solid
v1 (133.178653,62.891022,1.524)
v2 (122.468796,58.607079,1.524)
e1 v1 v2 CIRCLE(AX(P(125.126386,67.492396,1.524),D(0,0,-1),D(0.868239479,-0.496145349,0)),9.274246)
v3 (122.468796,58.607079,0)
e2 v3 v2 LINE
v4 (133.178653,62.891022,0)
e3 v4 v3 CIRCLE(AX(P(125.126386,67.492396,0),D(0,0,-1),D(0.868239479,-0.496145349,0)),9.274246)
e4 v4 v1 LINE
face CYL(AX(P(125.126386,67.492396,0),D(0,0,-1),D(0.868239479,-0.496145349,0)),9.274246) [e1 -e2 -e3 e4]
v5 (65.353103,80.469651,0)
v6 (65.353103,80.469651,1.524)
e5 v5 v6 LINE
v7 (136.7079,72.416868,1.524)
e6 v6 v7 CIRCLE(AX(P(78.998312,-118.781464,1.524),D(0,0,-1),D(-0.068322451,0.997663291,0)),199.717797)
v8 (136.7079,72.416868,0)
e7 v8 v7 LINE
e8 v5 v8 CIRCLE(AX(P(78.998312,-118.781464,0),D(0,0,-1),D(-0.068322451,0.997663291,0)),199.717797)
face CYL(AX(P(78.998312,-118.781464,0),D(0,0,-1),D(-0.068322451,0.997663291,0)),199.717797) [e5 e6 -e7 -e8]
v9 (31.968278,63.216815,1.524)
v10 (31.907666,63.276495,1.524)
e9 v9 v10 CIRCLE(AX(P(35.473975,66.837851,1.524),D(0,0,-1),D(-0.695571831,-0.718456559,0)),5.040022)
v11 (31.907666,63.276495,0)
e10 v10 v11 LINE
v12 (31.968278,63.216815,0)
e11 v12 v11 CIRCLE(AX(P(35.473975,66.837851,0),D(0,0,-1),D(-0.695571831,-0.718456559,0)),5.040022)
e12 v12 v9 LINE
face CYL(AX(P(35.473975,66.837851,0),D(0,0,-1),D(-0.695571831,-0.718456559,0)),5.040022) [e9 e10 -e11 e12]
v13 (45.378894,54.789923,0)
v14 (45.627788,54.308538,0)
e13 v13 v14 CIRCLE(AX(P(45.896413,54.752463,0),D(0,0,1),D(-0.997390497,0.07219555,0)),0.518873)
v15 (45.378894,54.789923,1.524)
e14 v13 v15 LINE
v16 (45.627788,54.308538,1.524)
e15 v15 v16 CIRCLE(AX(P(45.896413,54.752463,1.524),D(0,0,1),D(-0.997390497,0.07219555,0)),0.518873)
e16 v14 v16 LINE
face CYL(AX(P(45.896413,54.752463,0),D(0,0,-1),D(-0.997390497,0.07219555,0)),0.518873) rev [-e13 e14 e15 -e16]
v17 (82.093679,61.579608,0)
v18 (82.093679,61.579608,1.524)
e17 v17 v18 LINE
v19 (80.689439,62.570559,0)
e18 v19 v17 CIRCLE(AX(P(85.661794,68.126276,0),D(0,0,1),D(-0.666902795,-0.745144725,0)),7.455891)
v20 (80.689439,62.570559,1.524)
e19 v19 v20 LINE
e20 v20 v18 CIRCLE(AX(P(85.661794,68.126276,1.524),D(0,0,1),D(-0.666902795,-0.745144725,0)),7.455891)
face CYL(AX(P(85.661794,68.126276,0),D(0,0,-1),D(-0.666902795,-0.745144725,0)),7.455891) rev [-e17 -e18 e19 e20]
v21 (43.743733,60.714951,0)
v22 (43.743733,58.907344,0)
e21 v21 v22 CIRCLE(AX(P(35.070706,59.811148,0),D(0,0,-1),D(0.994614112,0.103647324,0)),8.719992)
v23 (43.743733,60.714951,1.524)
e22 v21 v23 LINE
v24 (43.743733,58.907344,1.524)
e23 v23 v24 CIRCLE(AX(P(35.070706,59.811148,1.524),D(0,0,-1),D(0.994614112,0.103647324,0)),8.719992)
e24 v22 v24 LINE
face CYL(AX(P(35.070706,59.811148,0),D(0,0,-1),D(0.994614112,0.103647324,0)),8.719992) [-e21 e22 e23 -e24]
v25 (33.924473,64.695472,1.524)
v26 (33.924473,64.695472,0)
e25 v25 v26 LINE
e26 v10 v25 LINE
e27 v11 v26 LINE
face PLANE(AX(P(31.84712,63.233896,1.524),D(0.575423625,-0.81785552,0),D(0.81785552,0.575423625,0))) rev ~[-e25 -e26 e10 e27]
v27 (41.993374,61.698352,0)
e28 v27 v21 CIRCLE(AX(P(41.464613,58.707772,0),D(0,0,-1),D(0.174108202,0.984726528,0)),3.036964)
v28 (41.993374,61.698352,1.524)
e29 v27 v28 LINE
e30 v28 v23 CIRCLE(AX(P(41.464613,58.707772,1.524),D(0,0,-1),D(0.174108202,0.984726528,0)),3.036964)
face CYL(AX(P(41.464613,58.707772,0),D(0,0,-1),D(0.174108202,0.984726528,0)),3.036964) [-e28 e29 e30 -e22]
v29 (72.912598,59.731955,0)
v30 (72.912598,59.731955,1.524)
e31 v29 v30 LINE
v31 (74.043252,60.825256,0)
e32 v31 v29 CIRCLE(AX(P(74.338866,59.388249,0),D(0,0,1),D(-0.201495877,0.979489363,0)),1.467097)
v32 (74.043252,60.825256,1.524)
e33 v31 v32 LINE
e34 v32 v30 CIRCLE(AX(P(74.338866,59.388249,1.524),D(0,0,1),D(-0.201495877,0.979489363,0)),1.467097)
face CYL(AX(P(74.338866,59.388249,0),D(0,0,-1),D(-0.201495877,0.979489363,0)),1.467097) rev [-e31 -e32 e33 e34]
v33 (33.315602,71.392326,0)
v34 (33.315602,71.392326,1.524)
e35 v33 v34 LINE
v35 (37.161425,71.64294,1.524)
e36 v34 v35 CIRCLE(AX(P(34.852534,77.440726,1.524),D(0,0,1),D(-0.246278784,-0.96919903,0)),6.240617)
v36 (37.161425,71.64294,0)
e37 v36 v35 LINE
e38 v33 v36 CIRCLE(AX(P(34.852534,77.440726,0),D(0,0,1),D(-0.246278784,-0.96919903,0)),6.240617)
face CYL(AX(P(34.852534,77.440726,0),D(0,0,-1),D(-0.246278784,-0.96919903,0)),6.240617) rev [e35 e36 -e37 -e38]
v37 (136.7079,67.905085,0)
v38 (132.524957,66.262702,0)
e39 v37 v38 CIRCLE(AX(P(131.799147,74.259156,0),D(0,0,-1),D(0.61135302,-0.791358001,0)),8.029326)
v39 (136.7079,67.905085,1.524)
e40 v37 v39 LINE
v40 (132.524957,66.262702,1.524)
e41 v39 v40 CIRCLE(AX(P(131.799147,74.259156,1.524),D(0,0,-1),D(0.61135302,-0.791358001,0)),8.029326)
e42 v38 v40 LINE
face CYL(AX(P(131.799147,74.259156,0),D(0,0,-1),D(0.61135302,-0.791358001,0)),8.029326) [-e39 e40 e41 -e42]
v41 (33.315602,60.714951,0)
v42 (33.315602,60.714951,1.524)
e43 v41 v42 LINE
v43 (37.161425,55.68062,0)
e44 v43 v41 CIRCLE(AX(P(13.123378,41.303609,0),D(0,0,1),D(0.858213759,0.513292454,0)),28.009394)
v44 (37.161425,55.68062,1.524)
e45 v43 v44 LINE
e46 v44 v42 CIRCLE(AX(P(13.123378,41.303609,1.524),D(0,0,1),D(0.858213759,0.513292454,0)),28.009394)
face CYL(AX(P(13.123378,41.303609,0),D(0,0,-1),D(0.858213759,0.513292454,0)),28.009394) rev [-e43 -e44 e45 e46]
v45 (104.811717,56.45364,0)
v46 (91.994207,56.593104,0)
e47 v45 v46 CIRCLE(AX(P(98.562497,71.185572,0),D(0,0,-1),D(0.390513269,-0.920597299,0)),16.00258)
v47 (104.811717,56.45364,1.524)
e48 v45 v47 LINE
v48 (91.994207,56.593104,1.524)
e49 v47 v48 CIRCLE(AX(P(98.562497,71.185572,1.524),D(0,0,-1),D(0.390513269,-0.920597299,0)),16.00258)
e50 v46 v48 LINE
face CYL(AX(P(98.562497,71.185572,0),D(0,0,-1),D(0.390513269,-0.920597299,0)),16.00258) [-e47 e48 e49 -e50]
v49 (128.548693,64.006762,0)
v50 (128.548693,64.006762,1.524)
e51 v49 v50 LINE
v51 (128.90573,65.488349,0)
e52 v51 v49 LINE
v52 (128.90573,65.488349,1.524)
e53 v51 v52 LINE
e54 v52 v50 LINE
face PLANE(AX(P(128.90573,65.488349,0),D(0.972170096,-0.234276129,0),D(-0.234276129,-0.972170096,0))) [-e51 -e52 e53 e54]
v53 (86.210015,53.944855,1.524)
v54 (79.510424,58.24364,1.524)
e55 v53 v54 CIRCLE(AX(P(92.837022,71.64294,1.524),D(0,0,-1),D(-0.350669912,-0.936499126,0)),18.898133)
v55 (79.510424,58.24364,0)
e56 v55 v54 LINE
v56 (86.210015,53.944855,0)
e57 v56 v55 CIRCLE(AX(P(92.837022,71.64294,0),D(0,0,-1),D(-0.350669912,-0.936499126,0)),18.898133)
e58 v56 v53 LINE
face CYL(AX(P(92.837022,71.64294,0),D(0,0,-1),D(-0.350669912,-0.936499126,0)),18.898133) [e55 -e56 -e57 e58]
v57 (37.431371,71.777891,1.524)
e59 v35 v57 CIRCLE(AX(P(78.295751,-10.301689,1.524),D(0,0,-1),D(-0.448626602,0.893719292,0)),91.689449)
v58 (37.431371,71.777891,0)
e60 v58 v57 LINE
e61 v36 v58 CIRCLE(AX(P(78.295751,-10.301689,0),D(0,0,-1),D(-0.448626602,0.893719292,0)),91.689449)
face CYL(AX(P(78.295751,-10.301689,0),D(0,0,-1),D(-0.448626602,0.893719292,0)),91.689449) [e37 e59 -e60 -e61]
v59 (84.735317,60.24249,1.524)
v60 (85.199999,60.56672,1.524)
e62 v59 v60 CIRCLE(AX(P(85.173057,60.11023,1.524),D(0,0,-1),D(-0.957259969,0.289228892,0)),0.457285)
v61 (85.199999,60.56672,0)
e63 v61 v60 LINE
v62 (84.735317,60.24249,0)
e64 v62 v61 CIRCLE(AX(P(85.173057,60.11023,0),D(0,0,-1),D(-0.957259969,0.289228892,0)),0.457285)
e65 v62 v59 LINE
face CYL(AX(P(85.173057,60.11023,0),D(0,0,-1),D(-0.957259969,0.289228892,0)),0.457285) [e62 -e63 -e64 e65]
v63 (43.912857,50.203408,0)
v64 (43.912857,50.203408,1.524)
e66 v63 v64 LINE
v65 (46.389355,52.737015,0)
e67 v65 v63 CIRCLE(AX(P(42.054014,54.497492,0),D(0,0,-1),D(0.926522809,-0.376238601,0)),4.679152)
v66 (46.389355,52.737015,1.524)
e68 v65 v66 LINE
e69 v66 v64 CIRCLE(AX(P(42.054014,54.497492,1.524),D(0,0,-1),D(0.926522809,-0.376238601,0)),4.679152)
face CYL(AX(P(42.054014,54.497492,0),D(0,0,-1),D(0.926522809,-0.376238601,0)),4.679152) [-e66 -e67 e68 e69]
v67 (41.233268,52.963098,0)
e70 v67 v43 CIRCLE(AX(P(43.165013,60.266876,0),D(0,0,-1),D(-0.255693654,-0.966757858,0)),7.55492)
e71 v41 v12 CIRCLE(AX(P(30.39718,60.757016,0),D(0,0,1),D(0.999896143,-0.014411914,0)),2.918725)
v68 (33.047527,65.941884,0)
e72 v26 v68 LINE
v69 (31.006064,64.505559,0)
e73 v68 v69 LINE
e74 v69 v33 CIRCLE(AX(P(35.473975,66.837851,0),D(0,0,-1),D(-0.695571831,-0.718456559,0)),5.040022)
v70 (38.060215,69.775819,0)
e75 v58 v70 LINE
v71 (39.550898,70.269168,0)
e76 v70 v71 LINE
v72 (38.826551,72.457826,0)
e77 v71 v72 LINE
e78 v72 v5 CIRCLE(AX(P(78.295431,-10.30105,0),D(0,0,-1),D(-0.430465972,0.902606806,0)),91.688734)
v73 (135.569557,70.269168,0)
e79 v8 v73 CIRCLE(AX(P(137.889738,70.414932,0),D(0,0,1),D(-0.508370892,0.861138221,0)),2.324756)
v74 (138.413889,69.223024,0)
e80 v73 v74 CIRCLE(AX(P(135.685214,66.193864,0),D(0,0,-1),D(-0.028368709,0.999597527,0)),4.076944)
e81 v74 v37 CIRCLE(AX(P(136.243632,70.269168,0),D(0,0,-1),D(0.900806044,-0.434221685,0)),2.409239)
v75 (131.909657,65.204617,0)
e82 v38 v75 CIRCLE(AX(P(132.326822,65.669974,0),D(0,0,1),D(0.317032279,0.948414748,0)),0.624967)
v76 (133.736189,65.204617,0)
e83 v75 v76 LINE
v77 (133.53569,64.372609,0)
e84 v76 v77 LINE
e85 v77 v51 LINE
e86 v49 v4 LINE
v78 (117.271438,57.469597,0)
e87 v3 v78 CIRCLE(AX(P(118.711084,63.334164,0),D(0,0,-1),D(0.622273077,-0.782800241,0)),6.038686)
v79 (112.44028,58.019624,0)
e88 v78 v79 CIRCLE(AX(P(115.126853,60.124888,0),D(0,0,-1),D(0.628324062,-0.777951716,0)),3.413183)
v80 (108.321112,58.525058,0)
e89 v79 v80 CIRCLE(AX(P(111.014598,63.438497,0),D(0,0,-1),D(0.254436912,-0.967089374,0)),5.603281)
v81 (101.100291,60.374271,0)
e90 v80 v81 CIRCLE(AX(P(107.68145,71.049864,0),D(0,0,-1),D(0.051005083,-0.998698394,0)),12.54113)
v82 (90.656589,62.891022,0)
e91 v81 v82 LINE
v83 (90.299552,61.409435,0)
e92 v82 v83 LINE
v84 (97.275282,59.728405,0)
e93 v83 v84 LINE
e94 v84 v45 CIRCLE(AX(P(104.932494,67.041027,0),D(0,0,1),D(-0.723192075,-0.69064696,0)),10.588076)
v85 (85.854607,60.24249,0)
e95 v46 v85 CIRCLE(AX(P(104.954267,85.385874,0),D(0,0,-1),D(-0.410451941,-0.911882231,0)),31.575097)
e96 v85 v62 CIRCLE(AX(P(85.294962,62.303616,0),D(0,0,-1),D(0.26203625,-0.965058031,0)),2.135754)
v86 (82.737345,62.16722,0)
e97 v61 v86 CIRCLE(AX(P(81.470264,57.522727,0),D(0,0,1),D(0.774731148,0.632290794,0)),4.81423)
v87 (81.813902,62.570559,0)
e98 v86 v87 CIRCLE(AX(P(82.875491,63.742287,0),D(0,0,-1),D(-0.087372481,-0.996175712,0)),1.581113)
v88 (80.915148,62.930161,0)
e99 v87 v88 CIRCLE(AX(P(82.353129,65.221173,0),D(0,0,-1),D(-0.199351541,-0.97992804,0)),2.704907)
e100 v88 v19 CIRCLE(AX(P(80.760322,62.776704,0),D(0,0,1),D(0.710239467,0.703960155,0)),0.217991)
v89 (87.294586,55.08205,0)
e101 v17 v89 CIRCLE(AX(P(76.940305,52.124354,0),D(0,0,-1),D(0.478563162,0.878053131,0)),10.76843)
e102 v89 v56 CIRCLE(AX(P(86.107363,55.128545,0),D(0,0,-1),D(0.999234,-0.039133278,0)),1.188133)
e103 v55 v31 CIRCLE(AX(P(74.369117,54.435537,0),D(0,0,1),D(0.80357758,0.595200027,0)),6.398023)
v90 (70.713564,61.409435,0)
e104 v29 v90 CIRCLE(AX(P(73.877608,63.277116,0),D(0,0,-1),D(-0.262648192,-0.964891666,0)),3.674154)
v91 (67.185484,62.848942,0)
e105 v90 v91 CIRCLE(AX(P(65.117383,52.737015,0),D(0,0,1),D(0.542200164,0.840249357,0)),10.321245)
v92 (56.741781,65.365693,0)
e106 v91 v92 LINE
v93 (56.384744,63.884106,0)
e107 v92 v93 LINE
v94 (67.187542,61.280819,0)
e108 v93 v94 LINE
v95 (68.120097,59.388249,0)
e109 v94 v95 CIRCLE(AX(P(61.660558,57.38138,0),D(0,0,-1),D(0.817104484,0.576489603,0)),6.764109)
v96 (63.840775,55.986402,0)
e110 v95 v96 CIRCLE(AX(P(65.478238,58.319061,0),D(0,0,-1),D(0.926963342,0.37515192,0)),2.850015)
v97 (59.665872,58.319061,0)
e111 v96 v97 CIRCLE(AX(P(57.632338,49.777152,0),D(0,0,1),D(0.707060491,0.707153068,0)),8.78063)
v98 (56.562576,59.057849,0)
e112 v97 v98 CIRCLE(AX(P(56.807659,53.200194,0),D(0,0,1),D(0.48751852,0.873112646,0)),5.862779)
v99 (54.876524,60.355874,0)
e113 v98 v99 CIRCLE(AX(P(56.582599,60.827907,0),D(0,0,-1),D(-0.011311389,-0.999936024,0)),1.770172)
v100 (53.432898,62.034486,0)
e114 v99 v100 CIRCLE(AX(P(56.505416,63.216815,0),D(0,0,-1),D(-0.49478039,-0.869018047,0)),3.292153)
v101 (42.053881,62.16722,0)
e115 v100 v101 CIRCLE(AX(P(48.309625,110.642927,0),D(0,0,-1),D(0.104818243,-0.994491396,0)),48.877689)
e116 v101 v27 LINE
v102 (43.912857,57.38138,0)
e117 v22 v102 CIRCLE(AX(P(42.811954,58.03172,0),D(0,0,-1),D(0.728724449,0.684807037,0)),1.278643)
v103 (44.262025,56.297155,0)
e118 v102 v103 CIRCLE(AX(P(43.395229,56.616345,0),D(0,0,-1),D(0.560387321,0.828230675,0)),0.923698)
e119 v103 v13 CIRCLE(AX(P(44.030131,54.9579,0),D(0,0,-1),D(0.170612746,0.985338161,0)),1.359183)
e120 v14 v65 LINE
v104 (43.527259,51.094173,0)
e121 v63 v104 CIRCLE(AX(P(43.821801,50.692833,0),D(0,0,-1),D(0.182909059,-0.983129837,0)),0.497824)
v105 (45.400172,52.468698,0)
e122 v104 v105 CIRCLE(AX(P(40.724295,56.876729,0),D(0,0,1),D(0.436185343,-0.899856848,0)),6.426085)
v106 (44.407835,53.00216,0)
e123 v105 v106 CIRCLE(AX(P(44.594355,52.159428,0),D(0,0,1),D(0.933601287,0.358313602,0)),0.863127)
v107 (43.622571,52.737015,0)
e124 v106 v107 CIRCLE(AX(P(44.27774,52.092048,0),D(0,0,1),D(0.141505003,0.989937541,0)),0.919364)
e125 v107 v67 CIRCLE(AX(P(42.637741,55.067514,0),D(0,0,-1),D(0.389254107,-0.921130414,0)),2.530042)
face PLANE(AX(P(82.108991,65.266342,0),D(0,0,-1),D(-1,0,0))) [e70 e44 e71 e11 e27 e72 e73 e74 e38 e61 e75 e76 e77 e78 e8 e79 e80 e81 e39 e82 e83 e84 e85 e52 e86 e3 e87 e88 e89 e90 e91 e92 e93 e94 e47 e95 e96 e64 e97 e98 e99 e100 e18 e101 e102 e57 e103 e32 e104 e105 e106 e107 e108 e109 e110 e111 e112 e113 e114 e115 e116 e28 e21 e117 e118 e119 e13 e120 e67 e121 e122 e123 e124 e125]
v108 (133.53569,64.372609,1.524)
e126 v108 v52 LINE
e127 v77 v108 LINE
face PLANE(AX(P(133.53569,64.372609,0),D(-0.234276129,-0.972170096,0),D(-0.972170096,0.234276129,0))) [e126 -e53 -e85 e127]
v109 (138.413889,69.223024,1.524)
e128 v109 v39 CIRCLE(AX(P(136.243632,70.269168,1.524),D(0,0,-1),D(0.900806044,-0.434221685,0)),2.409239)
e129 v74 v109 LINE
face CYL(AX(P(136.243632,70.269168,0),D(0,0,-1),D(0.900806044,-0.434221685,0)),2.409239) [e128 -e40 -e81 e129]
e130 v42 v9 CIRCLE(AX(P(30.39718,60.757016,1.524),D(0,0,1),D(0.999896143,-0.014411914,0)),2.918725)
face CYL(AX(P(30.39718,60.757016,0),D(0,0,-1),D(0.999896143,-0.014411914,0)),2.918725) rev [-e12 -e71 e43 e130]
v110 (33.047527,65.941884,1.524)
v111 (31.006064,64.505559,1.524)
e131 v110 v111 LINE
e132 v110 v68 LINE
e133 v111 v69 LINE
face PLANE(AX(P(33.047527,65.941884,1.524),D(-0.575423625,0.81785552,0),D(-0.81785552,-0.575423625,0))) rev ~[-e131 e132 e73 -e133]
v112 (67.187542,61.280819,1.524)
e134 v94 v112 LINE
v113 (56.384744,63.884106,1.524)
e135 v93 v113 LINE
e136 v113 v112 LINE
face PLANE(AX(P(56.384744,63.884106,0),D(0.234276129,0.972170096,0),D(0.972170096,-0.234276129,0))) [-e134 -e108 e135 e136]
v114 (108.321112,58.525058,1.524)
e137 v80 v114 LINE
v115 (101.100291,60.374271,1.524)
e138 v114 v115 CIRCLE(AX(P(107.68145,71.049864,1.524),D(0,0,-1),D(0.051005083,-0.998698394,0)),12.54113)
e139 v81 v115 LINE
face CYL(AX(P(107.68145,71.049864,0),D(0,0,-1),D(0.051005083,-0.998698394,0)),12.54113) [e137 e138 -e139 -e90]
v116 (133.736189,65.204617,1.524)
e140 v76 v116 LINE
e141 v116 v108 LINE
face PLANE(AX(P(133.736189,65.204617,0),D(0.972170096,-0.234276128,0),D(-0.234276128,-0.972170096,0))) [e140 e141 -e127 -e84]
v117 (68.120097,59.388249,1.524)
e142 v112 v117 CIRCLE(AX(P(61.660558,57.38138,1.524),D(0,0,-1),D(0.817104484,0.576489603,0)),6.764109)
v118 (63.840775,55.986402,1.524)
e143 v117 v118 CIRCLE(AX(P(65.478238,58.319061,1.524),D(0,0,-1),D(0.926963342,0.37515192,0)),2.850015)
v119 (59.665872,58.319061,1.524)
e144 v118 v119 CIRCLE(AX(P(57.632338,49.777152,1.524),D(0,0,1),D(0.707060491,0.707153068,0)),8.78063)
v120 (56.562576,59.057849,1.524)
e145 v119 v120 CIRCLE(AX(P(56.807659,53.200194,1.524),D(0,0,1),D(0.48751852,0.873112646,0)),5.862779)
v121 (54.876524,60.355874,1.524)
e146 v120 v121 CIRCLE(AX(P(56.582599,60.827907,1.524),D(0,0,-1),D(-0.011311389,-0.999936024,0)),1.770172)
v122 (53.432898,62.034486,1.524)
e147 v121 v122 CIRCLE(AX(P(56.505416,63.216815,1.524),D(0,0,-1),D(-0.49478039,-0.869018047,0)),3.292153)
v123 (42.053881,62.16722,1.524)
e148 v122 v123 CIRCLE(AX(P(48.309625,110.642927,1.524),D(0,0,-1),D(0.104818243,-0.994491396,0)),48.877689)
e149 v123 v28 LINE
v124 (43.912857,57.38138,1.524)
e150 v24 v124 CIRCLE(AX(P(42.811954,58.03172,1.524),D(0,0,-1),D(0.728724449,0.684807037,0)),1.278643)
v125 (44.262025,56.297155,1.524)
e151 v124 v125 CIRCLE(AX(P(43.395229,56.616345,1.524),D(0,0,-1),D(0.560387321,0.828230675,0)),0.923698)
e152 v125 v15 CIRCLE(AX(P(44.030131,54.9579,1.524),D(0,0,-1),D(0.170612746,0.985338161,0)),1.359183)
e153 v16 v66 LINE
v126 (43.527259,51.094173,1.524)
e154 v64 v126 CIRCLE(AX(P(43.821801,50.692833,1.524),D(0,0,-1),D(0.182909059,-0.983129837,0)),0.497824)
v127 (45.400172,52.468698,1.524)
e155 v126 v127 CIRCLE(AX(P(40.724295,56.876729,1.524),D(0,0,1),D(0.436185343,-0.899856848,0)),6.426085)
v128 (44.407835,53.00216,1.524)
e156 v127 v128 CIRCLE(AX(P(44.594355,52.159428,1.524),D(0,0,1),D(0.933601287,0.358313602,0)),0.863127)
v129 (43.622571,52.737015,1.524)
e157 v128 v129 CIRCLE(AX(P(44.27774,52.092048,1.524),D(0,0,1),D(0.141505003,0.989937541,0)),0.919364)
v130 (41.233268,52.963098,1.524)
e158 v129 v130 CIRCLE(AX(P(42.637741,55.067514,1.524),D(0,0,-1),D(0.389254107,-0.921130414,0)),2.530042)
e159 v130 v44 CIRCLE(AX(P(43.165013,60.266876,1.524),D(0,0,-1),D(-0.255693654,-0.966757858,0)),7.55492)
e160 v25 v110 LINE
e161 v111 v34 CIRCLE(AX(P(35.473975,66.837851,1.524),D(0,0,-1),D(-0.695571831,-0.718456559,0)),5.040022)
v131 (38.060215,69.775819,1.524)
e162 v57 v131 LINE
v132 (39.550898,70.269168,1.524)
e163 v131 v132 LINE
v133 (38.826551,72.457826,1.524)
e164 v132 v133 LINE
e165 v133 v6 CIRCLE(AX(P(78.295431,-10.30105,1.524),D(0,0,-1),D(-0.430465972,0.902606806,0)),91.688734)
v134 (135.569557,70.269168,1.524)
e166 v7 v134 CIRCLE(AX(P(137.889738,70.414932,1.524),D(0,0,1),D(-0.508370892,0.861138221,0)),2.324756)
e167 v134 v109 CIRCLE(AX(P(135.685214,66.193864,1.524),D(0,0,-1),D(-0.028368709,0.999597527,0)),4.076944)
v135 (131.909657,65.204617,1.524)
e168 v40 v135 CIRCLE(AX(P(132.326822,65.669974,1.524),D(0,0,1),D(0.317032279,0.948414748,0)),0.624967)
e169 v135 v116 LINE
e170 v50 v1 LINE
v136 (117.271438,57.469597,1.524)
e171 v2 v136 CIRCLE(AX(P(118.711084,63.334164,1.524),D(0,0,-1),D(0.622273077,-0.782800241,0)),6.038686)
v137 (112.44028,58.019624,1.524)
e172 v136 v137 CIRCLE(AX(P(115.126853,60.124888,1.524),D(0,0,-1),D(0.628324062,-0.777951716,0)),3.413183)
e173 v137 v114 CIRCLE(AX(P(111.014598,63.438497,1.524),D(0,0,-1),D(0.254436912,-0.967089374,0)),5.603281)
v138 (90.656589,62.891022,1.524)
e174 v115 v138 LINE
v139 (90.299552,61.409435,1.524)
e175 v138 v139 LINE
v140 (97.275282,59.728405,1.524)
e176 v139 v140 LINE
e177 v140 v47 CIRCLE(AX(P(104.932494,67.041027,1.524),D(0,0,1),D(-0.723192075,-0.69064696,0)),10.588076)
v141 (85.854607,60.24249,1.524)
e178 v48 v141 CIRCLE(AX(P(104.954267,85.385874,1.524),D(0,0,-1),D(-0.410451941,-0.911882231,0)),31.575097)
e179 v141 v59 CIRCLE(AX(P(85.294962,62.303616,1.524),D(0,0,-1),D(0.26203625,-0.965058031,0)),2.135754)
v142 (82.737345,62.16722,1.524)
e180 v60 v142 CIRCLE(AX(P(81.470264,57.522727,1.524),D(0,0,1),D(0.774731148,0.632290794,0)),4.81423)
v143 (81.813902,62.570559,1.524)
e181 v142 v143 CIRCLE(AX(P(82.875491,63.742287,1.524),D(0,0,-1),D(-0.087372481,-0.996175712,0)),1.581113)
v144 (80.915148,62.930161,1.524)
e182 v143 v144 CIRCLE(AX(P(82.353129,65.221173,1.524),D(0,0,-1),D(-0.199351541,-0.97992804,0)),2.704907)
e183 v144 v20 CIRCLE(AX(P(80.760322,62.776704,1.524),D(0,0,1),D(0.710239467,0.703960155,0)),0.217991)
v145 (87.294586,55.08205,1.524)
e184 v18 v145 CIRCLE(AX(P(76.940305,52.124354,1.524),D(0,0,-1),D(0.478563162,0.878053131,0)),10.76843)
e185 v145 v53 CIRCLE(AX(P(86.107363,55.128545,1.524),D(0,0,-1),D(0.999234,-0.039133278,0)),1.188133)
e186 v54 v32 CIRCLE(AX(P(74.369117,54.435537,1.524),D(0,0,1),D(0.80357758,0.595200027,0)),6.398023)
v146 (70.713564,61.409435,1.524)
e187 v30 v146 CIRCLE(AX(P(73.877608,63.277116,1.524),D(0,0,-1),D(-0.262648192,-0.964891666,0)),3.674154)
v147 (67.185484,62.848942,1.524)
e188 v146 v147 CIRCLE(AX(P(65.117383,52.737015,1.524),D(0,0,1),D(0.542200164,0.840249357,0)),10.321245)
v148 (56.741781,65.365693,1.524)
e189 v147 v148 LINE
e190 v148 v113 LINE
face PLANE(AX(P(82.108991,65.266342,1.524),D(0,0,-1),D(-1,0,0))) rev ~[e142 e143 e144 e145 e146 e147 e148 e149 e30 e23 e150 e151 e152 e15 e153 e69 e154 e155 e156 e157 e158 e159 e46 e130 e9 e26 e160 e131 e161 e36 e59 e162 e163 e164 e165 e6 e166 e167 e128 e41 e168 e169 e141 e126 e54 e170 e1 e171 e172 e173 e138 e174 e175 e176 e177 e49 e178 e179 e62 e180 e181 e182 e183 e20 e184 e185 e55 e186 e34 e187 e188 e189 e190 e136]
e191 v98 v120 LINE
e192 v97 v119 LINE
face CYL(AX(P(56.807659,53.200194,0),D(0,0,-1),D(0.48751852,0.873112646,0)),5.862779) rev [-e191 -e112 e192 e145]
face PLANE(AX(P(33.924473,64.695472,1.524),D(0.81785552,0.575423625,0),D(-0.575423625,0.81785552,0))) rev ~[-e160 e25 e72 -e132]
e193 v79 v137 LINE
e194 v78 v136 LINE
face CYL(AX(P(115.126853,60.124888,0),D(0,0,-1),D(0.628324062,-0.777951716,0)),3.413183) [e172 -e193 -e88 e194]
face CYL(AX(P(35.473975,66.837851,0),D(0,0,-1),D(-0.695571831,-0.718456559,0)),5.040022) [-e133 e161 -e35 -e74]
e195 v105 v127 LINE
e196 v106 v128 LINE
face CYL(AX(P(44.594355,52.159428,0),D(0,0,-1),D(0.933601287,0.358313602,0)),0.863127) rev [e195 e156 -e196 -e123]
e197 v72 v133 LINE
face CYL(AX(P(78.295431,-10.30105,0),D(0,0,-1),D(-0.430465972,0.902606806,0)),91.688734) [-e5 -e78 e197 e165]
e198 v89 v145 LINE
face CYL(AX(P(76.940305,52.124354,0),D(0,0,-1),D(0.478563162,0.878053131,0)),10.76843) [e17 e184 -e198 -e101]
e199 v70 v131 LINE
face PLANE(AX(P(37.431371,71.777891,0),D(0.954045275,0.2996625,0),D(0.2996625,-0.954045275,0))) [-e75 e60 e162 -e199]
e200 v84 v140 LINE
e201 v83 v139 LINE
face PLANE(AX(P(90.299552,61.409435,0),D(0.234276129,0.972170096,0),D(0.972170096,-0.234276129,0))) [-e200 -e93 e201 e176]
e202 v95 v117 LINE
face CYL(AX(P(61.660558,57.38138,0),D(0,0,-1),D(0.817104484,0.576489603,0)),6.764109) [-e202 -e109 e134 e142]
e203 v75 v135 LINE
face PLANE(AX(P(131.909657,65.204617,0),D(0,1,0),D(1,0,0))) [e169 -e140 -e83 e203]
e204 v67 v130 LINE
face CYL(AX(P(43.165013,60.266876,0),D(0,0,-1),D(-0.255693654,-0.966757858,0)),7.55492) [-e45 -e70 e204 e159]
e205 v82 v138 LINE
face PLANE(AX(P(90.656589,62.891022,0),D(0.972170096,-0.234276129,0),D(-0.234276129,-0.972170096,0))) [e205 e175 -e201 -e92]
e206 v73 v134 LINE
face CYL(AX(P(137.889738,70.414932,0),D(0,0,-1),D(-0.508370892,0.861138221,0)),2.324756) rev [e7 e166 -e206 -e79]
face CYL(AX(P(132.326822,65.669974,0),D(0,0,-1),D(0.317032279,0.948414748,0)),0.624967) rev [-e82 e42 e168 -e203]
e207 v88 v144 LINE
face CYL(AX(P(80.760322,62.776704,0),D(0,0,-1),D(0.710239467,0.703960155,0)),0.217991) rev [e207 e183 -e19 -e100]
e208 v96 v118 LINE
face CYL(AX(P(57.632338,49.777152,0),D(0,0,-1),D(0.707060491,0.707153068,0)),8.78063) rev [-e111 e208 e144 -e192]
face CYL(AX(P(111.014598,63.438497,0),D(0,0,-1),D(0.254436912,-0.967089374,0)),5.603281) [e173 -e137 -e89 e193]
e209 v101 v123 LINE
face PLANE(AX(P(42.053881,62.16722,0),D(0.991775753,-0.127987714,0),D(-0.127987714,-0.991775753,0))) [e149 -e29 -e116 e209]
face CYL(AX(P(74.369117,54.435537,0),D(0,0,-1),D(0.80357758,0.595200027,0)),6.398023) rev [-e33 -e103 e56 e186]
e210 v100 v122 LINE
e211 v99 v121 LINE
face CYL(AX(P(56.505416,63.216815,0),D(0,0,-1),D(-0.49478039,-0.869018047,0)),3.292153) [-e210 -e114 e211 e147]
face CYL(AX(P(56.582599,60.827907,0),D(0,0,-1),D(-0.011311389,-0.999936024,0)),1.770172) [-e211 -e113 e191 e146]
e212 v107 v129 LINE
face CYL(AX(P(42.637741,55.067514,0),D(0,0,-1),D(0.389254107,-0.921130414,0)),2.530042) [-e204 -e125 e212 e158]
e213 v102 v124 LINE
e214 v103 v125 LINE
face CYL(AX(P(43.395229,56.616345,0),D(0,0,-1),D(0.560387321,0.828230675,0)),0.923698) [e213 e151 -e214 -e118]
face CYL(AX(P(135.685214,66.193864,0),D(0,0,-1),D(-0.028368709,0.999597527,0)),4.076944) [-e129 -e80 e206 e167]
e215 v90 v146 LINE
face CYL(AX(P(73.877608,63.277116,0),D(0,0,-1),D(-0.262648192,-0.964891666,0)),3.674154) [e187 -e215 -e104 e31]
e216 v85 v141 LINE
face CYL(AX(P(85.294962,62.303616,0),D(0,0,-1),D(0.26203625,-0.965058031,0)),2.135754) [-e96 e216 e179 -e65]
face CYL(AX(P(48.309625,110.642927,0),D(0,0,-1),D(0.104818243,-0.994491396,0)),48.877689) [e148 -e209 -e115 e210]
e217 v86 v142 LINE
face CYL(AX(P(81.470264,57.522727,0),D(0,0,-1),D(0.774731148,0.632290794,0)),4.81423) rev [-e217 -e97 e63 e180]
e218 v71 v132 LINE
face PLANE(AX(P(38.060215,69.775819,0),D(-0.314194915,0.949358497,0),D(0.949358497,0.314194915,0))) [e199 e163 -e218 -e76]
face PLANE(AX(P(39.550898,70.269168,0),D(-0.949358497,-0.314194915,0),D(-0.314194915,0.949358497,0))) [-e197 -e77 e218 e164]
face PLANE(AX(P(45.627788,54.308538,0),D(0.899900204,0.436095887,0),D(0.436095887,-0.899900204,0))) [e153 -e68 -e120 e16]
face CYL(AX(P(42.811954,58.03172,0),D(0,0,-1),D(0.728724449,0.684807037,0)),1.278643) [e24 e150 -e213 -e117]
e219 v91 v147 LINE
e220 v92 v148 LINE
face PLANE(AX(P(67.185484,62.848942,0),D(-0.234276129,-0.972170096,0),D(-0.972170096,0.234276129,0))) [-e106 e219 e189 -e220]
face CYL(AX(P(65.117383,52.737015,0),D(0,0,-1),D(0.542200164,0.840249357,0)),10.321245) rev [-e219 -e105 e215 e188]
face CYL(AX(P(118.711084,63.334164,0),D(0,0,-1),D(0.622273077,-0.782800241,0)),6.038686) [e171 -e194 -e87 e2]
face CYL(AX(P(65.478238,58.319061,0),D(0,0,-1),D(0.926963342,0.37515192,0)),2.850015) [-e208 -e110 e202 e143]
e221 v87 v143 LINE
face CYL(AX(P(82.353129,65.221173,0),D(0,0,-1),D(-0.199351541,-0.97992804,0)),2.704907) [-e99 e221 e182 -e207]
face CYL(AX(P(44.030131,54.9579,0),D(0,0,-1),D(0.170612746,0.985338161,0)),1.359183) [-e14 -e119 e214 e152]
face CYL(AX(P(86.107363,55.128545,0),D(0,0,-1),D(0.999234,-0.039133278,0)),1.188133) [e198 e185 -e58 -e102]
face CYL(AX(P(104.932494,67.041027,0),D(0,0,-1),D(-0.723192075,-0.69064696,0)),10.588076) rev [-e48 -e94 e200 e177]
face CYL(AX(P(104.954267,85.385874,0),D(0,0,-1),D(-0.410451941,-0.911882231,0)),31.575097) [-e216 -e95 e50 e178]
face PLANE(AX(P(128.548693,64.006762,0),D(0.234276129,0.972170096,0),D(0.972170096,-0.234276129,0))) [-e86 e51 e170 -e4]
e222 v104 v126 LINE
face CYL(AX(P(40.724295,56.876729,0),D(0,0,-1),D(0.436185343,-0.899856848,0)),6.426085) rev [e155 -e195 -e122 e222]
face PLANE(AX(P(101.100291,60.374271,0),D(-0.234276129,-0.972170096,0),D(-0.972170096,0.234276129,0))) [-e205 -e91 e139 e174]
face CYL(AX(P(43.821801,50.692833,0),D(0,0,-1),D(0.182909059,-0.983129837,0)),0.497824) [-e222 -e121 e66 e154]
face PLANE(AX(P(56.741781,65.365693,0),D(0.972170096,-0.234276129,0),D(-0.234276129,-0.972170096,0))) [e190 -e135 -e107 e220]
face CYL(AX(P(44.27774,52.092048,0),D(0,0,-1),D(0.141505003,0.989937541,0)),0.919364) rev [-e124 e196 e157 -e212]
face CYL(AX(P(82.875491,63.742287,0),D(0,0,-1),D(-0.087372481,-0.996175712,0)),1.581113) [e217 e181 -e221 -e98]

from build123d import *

# Parameters (mm, degrees)
BOSS_EXTRUDE1_DEPTH = 1.524
CUT_EXTRUDE1_DEPTH  = 1.524


with BuildPart() as part:
    # Sketch1 → Boss-Extrude1 (new body)
    with BuildSketch(Plane.XY):
        with BuildLine():
            Line((101.100291423, 60.374270727), (90.656589002, 62.891021845))
            Line((90.656589002, 62.891021845), (90.299552181, 61.409434619))
            Line((90.299552181, 61.409434619), (97.275281594, 59.728404837))
            ThreePointArc((97.275281594, 59.728404837), (100.712861052, 57.330103102), (104.811716554, 56.453640143))
            ThreePointArc((104.811716554, 56.453640143), (98.388387768, 55.183939277), (91.99420693, 56.593103707))
            ThreePointArc((91.99420693, 56.593103707), (88.820887917, 58.243640163), (85.854606826, 60.242489993))
            ThreePointArc((85.854606826, 60.242489993), (85.294961905, 60.16786255), (84.735316985, 60.242489993))
            ThreePointArc((84.735316985, 60.242489993), (84.911389048, 60.485248679), (85.199998696, 60.566720278))
            ThreePointArc((85.199998696, 60.566720278), (84.093704885, 61.559355838), (82.737345027, 62.167220368))
            ThreePointArc((82.737345027, 62.167220368), (82.242631079, 62.293353709), (81.813901616, 62.570558609))
            ThreePointArc((81.813901616, 62.570558609), (81.348307425, 62.709827468), (80.915148386, 62.930161332))
            ThreePointArc((80.915148386, 62.930161332), (80.575687035, 62.892592479), (80.689439461, 62.570558609))
            ThreePointArc((80.689439461, 62.570558609), (81.362910423, 62.034486044), (82.093679171, 61.579608074))
            ThreePointArc((82.093679171, 61.579608074), (85.34723108, 58.853595342), (87.294585764, 55.08204988))
            ThreePointArc((87.294585764, 55.08204988), (86.96715778, 54.308537604), (86.2100149, 53.944855072))
            ThreePointArc((86.2100149, 53.944855072), (82.631314085, 55.737501843), (79.510424358, 58.243640163))
            ThreePointArc((79.510424358, 58.243640163), (77.101022334, 60.220982956), (74.043252382, 60.8252557))
            ThreePointArc((74.043252382, 60.8252557), (73.319039981, 60.442919356), (72.912598281, 59.731955343))
            ThreePointArc((72.912598281, 59.731955343), (71.649210609, 60.355874406), (70.713564157, 61.409434619))
            ThreePointArc((70.713564157, 61.409434619), (69.01653018, 62.293413679), (67.185483534, 62.848941789))
            Line((67.185483534, 62.848941789), (56.741781112, 65.365692908))
            Line((56.741781112, 65.365692908), (56.384744292, 63.884105681))
            Line((56.384744292, 63.884105681), (67.187541645, 61.280818914))
            ThreePointArc((67.187541645, 61.280818914), (67.728064625, 60.371118212), (68.120097106, 59.388249456))
            ThreePointArc((68.120097106, 59.388249456), (67.25174991, 56.088088151), (63.840774779, 55.986401624))
            ThreePointArc((63.840774779, 55.986401624), (61.915192799, 57.442438875), (59.66587196, 58.319060916))
            ThreePointArc((59.66587196, 58.319060916), (58.165438165, 58.903580474), (56.56257634, 59.057848613))
            ThreePointArc((56.56257634, 59.057848613), (55.502751345, 59.425253798), (54.876523852, 60.355874406))
            ThreePointArc((54.876523852, 60.355874406), (54.009369491, 61.07018483), (53.432898123, 62.034486044))
            ThreePointArc((53.432898123, 62.034486044), (47.739513392, 61.768563203), (42.053880875, 62.167220368))
            Line((42.053880875, 62.167220368), (41.993373858, 61.698351986))
            ThreePointArc((41.993373858, 61.698351986), (42.952167328, 61.355476536), (43.743732957, 60.714951479))
            ThreePointArc((43.743732957, 60.714951479), (43.790697856, 59.811147629), (43.743732957, 58.907343779))
            ThreePointArc((43.743732957, 58.907343779), (44.082816136, 58.172570857), (43.912857263, 57.381380215))
            ThreePointArc((43.912857263, 57.381380215), (44.274457866, 56.899495102), (44.262024663, 56.297154937))
            ThreePointArc((44.262024663, 56.297154937), (45.122173078, 55.767110933), (45.378894328, 54.789923059))
            ThreePointArc((45.378894328, 54.789923059), (45.435502491, 54.514155378), (45.627787771, 54.308537604))
            Line((45.627787771, 54.308537604), (46.389355044, 52.737014998))
            ThreePointArc((46.389355044, 52.737014998), (45.400171695, 51.226760005), (43.912857263, 50.203407855))
            ThreePointArc((43.912857263, 50.203407855), (43.364944937, 50.495067499), (43.527258774, 51.094173069))
            ThreePointArc((43.527258774, 51.094173069), (44.526346213, 51.696095286), (45.400171695, 52.468698091))
            ThreePointArc((45.400171695, 52.468698091), (45.003045019, 52.919665256), (44.407834519, 53.00216035))
            ThreePointArc((44.407834519, 53.00216035), (43.983628759, 52.963097784), (43.622570614, 52.737014998))
            ThreePointArc((43.622570614, 52.737014998), (42.399406092, 52.548722507), (41.233267746, 52.963097784))
            ThreePointArc((41.233267746, 52.963097784), (38.971135138, 53.982911867), (37.161424671, 55.680619947))
            ThreePointArc((37.161424671, 55.680619947), (35.381305609, 58.306867343), (33.315602324, 60.714951479))
            ThreePointArc((33.315602324, 60.714951479), (32.966961663, 62.14091635), (31.968277944, 63.216814558))
            ThreePointArc((31.968277944, 63.216814558), (30.501031212, 67.657392256), (33.315602324, 71.392326356))
            ThreePointArc((33.315602324, 71.392326356), (35.258344298, 71.213317676), (37.161424671, 71.642940269))
            ThreePointArc((37.161424671, 71.642940269), (37.296342328, 71.710526901), (37.431371034, 71.777891398))
            Line((37.431371034, 71.777891398), (38.060215392, 69.775819105))
            Line((38.060215392, 69.775819105), (39.550898091, 70.269167956))
            Line((39.550898091, 70.269167956), (38.8265509, 72.457825788))
            ThreePointArc((38.8265509, 72.457825788), (51.785413467, 77.471627923), (65.35310261, 80.469650975))
            ThreePointArc((65.35310261, 80.469650975), (101.39539204, 79.676514857), (136.707899952, 72.416867675))
            ThreePointArc((136.707899952, 72.416867675), (135.835671661, 71.50364664), (135.569556588, 70.269167956))
            ThreePointArc((135.569556588, 70.269167956), (137.092541248, 70.02020814), (138.413889319, 69.223024009))
            ThreePointArc((138.413889319, 69.223024009), (137.71652772, 68.362597164), (136.707899952, 67.905084783))
            ThreePointArc((136.707899952, 67.905084783), (134.733670661, 66.785291795), (132.524956631, 66.262702129))
            ThreePointArc((132.524956631, 66.262702129), (131.786563313, 65.984146711), (131.909656731, 65.204617479))
            Line((131.909656731, 65.204617479), (133.736189305, 65.204617479))
            Line((133.736189305, 65.204617479), (133.535689712, 64.372609071))
            Line((133.535689712, 64.372609071), (128.90572963, 65.488349136))
            Line((128.90572963, 65.488349136), (128.54869281, 64.006761909))
            Line((128.54869281, 64.006761909), (133.178652891, 62.891021845))
            ThreePointArc((133.178652891, 62.891021845), (128.570754882, 58.881474634), (122.468796178, 58.60707916))
            ThreePointArc((122.468796178, 58.60707916), (120.00213942, 57.435104265), (117.271437866, 57.469596916))
            ThreePointArc((117.271437866, 57.469596916), (114.740756953, 56.73361331), (112.440279749, 58.01962357))
            ThreePointArc((112.440279749, 58.01962357), (110.332177288, 57.876927186), (108.32111158, 58.525057544))
            ThreePointArc((108.32111158, 58.525057544), (104.570140962, 58.900802388), (101.100291423, 60.374270727))
        make_face()
    extrude(amount=BOSS_EXTRUDE1_DEPTH)

    # Sketch2 → Cut-Extrude1 (cut)
    with BuildSketch(Plane.XY.offset(1.524)):
        Polygon((31.847119616, 63.233896416), (33.924472638, 64.695472423), (33.047527033, 65.941884236), (30.970174012, 64.480308228), align=None)
    extrude(amount=-CUT_EXTRUDE1_DEPTH, mode=Mode.SUBTRACT)


solid = part.part
